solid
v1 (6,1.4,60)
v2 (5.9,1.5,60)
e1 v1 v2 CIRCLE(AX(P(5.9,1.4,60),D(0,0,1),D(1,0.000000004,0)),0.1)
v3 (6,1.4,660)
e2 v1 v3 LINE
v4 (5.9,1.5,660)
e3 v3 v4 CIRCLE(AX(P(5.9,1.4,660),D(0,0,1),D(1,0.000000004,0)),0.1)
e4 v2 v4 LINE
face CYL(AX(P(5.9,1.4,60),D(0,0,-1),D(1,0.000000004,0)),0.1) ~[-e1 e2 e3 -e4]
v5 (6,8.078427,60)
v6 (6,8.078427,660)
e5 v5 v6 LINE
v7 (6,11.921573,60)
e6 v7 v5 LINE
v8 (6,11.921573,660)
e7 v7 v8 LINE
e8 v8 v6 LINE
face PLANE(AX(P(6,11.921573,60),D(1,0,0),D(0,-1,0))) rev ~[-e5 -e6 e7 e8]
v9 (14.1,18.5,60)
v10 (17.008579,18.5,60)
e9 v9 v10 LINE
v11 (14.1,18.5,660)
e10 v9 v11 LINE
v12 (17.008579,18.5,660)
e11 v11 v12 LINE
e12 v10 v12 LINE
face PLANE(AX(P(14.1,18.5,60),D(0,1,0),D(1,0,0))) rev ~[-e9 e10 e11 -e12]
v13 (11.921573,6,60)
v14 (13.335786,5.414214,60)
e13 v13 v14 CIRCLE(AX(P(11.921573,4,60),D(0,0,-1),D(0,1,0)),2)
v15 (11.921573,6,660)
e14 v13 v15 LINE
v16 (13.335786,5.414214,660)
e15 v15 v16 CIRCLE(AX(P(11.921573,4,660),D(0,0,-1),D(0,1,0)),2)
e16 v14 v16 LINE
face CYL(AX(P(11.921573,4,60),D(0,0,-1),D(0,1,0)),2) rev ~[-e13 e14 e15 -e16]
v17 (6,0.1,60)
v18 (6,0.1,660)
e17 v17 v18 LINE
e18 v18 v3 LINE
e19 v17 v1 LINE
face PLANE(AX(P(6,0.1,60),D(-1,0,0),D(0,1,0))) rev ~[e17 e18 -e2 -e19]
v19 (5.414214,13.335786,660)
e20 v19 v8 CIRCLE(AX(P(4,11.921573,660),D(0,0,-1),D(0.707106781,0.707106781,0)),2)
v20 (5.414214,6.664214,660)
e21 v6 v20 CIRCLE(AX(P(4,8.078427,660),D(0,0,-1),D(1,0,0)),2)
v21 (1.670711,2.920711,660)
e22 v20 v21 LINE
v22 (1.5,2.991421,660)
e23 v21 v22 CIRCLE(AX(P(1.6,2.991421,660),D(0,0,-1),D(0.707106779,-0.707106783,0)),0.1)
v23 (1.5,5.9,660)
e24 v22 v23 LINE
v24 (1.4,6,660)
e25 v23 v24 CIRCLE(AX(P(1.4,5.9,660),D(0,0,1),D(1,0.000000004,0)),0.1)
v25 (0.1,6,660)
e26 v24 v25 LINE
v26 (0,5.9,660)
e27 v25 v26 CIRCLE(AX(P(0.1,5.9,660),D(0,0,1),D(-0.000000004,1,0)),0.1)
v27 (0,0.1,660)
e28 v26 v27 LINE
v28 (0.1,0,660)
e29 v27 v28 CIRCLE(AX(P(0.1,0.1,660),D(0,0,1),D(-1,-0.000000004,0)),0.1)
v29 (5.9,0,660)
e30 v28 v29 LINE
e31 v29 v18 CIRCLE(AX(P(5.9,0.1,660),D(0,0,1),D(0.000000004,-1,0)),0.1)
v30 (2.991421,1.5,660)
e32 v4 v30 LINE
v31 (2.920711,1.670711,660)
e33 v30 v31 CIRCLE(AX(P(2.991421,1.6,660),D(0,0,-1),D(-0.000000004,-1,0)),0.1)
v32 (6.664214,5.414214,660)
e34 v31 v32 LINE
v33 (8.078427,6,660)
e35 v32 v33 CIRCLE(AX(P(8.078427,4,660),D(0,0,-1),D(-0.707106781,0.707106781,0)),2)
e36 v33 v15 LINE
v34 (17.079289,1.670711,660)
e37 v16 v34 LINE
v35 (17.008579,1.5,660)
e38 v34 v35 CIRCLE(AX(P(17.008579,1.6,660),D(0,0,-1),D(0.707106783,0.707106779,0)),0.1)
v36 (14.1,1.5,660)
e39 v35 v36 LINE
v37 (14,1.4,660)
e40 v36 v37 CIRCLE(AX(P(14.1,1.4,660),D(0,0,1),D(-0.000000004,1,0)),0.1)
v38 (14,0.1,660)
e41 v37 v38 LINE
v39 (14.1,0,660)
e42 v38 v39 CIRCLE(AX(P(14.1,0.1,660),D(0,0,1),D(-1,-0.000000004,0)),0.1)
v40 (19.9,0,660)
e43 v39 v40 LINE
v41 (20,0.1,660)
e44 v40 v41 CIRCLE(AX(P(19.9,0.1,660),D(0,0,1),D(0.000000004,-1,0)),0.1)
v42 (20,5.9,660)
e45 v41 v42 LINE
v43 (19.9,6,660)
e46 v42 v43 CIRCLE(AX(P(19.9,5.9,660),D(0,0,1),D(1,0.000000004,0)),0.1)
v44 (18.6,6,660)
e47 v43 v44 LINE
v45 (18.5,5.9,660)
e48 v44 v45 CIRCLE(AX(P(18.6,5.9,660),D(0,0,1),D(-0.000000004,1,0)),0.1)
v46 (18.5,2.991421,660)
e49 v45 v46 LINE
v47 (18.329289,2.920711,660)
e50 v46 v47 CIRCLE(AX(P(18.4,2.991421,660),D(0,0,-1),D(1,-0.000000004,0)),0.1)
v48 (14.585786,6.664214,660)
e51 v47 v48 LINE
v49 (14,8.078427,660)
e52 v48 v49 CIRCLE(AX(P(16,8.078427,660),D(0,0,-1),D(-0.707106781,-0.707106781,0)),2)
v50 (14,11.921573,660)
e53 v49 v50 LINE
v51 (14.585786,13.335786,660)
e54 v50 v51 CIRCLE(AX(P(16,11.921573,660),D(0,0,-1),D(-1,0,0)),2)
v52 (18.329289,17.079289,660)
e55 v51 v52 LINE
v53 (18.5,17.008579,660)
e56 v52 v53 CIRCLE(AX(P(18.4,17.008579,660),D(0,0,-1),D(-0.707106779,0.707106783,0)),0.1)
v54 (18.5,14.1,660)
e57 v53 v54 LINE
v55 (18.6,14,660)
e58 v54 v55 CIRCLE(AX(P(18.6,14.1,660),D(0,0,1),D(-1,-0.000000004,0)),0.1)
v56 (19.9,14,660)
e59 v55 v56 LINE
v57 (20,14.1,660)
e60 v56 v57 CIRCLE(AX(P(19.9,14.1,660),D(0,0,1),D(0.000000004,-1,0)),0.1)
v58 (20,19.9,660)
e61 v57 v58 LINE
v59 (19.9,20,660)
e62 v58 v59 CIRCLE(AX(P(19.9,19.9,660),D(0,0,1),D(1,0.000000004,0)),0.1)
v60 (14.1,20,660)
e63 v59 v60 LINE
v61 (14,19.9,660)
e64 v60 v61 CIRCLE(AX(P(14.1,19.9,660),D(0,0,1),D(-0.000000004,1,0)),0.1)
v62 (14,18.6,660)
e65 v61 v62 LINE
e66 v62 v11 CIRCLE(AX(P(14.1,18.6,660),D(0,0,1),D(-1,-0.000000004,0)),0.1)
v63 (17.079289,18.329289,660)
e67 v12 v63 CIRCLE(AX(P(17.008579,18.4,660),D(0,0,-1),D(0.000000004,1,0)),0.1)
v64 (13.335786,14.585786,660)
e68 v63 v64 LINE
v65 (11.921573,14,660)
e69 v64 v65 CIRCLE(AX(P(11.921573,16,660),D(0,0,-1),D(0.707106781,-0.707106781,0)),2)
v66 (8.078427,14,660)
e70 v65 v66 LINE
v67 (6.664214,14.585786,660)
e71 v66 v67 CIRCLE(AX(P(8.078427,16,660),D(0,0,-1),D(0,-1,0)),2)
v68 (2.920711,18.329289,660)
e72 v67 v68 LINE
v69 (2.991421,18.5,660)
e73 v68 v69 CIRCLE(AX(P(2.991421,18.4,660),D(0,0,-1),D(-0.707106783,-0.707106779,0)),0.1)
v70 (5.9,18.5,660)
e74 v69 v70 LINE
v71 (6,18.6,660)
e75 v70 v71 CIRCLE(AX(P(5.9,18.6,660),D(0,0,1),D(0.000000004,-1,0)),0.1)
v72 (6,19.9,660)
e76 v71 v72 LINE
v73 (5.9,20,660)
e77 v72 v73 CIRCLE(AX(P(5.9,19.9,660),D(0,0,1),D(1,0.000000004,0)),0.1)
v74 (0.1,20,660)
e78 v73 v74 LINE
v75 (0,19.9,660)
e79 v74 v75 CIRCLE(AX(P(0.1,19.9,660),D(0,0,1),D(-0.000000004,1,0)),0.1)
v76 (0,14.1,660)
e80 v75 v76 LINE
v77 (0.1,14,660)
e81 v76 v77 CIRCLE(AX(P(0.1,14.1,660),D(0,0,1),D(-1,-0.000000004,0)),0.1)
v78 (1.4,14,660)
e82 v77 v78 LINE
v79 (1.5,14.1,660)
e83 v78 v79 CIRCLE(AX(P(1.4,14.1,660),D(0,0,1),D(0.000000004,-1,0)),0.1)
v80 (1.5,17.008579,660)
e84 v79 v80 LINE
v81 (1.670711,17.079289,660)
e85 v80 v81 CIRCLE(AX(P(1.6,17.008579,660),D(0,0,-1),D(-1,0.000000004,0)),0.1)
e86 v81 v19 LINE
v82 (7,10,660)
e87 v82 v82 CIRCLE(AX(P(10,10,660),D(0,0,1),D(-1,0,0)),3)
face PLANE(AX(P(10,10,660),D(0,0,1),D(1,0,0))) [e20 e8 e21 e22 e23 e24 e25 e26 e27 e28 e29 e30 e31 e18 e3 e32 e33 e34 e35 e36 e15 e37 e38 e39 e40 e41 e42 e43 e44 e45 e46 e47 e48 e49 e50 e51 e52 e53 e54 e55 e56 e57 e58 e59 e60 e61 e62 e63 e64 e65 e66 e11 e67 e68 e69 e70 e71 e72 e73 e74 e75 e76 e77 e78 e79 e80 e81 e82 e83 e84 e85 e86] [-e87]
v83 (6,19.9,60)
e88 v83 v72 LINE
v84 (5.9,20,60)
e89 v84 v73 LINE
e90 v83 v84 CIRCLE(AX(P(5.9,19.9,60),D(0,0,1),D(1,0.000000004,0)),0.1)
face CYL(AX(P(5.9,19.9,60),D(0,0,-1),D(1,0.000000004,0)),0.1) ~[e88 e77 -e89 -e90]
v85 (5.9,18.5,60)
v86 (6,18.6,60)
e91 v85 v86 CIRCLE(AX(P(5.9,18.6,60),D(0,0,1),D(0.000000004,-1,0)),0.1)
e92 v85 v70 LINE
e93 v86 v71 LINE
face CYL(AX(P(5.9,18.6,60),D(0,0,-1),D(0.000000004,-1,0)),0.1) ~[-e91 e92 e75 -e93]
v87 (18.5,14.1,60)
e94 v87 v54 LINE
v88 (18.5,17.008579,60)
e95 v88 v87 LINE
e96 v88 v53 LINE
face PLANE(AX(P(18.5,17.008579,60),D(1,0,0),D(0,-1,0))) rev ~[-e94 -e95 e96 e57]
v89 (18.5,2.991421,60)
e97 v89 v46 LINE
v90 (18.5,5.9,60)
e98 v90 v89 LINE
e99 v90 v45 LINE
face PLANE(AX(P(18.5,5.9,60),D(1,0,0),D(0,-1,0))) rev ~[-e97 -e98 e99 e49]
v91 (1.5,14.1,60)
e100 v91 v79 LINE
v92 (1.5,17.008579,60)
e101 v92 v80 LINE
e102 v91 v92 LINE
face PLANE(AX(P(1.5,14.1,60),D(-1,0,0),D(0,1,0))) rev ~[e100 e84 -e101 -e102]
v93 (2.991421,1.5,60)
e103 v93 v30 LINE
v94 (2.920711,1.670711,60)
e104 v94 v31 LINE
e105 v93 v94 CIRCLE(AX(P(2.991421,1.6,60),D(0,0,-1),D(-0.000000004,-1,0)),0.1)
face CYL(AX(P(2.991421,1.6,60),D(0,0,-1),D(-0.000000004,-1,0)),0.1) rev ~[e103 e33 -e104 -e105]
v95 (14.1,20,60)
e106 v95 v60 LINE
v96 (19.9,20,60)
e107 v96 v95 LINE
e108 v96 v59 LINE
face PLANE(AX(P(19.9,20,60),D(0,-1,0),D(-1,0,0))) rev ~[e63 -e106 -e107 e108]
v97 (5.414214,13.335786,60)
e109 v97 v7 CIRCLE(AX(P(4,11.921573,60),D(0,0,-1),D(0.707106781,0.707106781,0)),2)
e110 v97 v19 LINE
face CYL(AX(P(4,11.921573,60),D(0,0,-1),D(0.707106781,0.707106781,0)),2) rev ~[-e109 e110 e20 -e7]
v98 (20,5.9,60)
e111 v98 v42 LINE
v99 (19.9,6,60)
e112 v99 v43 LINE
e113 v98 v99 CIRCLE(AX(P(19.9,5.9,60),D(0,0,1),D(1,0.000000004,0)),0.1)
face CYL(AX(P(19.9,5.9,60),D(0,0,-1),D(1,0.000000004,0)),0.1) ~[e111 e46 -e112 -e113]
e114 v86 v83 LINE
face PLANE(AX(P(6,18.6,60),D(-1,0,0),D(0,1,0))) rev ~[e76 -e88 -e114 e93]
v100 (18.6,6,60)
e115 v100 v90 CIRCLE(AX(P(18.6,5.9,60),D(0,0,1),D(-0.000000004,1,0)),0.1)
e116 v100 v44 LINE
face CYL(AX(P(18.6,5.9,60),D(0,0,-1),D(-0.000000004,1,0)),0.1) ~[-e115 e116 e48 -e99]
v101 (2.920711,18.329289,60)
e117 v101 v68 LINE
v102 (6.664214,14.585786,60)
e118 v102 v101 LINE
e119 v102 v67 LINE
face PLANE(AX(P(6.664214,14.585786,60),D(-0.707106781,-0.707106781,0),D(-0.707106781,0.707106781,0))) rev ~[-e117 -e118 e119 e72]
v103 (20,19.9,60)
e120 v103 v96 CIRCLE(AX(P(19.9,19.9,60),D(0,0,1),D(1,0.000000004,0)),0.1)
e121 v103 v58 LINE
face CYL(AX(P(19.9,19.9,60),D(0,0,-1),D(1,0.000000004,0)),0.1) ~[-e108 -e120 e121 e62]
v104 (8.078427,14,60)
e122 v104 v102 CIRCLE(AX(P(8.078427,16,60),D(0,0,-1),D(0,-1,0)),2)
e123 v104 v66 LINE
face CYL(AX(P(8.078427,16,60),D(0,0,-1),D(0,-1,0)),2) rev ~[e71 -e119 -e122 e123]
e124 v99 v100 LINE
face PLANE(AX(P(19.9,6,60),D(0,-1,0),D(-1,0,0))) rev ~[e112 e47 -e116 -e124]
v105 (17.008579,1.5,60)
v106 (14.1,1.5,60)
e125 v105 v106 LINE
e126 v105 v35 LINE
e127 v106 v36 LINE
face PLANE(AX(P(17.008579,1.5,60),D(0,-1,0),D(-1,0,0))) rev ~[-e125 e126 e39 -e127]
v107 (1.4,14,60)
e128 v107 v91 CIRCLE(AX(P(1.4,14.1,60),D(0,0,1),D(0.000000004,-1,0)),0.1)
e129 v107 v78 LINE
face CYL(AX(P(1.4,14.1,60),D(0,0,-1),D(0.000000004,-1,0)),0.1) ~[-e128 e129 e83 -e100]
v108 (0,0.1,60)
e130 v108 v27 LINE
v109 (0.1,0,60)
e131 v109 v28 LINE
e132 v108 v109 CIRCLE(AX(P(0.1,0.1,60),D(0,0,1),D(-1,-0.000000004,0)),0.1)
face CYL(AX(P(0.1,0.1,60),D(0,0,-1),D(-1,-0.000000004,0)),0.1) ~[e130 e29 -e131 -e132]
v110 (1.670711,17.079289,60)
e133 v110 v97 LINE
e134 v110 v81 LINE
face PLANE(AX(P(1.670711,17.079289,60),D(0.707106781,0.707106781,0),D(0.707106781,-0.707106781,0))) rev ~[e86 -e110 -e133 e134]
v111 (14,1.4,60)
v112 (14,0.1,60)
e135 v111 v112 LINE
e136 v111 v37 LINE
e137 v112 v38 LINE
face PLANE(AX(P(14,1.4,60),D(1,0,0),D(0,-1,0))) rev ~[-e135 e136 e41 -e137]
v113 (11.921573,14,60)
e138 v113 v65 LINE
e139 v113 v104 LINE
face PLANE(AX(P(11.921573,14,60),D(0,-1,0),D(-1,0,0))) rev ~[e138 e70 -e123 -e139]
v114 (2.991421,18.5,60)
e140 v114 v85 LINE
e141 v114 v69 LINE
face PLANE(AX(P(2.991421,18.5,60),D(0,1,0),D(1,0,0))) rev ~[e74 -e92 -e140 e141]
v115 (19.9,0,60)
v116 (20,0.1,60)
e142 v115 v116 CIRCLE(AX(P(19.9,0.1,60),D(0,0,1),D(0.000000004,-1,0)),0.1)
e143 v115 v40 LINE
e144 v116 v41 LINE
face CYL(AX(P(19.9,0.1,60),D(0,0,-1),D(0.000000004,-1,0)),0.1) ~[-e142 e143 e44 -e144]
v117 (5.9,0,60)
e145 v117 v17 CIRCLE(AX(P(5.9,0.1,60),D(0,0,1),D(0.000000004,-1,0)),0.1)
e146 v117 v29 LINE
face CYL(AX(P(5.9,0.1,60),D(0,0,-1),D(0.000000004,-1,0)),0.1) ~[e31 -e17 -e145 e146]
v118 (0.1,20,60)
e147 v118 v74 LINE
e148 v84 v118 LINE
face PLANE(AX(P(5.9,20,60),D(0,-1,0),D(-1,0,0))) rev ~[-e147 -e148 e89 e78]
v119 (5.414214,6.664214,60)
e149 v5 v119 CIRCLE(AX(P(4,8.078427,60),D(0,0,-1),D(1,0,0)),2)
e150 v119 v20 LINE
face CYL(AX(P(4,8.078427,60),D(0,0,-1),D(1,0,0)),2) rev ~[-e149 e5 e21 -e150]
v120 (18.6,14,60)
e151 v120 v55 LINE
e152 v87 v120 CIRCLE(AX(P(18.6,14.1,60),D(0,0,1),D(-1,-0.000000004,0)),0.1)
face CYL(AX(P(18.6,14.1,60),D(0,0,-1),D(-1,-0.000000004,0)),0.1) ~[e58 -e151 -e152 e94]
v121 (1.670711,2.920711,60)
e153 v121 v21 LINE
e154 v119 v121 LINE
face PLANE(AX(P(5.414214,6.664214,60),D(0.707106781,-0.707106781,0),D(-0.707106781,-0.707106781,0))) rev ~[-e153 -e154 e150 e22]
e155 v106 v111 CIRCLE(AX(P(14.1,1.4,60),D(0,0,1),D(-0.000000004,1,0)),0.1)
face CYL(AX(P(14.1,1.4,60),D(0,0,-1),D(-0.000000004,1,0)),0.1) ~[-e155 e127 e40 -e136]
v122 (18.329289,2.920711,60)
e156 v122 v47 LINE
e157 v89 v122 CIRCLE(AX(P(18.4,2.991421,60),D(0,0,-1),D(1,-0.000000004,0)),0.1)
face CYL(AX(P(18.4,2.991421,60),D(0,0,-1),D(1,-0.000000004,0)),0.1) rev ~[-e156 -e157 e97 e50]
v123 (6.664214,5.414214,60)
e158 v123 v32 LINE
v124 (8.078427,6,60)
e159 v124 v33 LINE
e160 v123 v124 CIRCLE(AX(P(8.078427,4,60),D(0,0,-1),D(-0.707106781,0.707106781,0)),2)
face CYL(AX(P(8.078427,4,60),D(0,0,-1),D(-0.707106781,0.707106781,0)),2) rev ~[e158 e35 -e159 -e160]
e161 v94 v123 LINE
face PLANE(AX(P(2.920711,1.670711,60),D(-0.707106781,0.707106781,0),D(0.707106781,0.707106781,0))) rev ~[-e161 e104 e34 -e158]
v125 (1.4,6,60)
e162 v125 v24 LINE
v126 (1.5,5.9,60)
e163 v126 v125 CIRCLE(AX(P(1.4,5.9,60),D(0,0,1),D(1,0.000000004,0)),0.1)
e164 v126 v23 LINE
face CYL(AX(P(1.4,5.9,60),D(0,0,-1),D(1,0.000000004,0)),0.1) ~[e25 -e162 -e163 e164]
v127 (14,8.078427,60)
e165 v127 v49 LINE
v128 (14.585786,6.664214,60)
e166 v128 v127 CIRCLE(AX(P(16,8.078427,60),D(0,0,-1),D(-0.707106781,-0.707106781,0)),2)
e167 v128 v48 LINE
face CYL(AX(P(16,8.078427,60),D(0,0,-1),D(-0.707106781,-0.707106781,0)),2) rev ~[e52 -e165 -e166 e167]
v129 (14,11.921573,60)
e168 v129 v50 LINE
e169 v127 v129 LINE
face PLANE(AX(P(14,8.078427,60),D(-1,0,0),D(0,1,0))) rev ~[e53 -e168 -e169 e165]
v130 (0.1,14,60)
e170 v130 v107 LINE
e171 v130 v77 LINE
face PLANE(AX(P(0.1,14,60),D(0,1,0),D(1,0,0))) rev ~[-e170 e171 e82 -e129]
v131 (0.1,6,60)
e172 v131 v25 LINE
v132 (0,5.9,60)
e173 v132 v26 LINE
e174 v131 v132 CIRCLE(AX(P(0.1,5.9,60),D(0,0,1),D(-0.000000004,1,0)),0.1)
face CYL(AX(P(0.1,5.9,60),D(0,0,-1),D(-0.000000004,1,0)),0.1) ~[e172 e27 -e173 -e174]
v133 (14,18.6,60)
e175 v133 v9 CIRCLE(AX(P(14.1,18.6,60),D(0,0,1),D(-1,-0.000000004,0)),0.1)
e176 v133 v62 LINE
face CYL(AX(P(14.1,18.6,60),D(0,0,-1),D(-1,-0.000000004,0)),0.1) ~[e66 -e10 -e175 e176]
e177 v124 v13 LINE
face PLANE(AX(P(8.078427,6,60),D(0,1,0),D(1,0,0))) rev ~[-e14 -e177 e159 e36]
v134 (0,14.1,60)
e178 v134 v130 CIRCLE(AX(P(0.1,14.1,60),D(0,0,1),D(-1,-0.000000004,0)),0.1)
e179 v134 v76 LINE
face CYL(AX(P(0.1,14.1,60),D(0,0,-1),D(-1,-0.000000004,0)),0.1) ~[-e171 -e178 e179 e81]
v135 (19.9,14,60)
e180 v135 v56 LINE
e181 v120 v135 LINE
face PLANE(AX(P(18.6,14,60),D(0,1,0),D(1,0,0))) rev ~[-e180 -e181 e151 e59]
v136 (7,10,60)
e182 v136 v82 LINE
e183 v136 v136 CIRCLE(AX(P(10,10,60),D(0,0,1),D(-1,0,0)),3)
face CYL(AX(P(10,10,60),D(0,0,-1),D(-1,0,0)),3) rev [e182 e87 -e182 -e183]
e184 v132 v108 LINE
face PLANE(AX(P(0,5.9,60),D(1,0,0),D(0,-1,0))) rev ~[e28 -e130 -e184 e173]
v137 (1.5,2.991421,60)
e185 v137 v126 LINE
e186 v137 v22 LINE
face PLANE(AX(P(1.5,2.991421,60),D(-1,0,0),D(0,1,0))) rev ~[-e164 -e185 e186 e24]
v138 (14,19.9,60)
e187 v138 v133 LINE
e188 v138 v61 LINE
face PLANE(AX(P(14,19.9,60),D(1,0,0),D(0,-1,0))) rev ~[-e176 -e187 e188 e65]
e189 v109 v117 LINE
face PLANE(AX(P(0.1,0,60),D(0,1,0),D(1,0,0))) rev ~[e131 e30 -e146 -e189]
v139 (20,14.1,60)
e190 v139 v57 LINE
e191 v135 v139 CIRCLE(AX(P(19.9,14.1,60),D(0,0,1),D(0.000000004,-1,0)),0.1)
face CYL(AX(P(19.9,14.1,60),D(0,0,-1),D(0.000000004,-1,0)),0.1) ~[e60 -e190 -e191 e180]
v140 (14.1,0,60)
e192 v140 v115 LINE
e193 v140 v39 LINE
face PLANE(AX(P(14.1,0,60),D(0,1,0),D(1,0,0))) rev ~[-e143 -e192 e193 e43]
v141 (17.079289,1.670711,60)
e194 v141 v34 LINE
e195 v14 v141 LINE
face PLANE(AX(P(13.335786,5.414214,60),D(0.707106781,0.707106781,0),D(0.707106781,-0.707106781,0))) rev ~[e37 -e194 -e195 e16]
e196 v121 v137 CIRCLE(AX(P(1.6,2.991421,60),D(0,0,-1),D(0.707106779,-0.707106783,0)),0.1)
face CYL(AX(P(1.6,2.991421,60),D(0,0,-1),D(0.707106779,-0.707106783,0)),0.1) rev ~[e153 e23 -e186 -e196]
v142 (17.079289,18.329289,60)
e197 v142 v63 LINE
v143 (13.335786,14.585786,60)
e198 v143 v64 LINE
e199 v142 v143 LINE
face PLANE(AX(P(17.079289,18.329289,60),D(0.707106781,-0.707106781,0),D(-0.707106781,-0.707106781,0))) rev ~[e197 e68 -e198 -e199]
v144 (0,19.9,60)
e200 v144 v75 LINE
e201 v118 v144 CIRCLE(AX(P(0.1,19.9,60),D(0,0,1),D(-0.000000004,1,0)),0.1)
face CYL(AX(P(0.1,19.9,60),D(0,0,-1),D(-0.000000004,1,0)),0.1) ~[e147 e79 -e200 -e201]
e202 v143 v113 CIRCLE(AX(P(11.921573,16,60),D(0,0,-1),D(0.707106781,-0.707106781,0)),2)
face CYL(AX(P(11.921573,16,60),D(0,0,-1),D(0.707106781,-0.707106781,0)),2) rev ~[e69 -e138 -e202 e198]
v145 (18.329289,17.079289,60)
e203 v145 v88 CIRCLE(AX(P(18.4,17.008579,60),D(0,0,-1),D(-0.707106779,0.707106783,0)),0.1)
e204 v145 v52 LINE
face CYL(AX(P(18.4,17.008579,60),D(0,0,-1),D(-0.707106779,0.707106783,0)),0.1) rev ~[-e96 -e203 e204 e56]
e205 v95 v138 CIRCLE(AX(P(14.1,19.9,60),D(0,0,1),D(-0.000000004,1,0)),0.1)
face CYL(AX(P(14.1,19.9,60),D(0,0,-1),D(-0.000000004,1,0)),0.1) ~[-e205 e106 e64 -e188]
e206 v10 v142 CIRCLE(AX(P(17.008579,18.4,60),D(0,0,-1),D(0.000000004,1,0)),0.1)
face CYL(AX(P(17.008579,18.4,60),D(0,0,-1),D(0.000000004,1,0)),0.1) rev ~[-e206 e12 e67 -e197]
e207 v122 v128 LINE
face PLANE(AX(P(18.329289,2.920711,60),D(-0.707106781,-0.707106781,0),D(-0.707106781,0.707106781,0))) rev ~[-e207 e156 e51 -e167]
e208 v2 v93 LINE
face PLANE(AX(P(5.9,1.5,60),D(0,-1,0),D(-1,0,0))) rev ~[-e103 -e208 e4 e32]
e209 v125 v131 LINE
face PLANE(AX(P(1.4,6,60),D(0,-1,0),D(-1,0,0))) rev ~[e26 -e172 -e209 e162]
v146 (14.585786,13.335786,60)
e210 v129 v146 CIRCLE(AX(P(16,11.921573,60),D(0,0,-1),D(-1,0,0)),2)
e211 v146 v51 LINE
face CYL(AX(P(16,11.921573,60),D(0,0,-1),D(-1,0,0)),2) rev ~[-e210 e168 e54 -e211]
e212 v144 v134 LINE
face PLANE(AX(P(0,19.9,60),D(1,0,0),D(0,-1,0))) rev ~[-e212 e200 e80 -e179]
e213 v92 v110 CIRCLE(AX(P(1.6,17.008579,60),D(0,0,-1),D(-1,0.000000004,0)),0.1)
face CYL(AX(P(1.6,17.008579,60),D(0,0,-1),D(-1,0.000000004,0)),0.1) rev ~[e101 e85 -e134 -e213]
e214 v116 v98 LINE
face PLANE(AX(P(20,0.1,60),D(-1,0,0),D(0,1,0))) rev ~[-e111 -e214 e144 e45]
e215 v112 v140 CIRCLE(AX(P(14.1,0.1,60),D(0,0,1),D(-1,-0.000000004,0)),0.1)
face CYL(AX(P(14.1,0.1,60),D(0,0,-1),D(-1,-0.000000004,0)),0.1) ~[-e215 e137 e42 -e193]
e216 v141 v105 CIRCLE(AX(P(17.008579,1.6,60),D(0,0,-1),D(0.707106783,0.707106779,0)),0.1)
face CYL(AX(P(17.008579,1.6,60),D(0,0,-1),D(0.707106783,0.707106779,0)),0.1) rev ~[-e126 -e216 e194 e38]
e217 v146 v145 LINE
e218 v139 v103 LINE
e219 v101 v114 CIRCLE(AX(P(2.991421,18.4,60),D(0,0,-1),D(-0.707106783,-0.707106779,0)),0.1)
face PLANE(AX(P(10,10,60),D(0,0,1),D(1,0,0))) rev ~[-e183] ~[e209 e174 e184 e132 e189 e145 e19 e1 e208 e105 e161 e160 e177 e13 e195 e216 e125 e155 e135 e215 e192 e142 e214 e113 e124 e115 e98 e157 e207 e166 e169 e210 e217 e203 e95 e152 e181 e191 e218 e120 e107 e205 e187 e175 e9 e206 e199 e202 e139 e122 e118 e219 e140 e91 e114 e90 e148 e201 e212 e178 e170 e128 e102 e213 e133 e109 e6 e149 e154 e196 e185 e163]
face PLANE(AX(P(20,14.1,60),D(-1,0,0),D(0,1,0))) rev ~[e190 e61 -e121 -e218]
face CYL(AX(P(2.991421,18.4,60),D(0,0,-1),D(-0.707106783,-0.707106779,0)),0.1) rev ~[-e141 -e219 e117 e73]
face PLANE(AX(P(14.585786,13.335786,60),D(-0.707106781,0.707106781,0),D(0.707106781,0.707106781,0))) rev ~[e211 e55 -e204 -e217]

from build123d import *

# Parameters (mm, degrees)
SKETCH1_R           = 3
BOSS_EXTRUDE2_DEPTH = 600


with BuildPart() as part:
    # Sketch1 → Boss-Extrude2 (new body)
    with BuildSketch(Plane.XY.offset(60)):
        with BuildLine():
            Line((18.5, 17.008578644), (18.5, 14.1))
            ThreePointArc((18.5, 14.1), (18.529289322, 14.029289322), (18.6, 14))
            Line((18.6, 14), (19.9, 14))
            ThreePointArc((19.9, 14), (19.970710678, 14.029289322), (20, 14.1))
            Line((20, 14.1), (20, 19.9))
            ThreePointArc((20, 19.9), (19.970710678, 19.970710678), (19.9, 20))
            Line((19.9, 20), (14.1, 20))
            ThreePointArc((14.1, 20), (14.029289322, 19.970710678), (14, 19.9))
            Line((14, 19.9), (14, 18.6))
            ThreePointArc((14, 18.6), (14.029289322, 18.529289322), (14.1, 18.5))
            Line((14.1, 18.5), (17.008578644, 18.5))
            ThreePointArc((17.008578644, 18.5), (17.100966597, 18.438268343), (17.079289322, 18.329289322))
            Line((17.079289322, 18.329289322), (13.335786438, 14.585786438))
            ThreePointArc((13.335786438, 14.585786438), (12.68693974, 14.152240935), (11.921572875, 14))
            Line((11.921572875, 14), (8.078427125, 14))
            ThreePointArc((8.078427125, 14), (7.31306026, 14.152240935), (6.664213562, 14.585786438))
            Line((6.664213562, 14.585786438), (2.920710678, 18.329289322))
            ThreePointArc((2.920710678, 18.329289322), (2.899033403, 18.438268343), (2.991421356, 18.5))
            Line((2.991421356, 18.5), (5.9, 18.5))
            ThreePointArc((5.9, 18.5), (5.970710678, 18.529289322), (6, 18.6))
            Line((6, 18.6), (6, 19.9))
            ThreePointArc((6, 19.9), (5.970710678, 19.970710678), (5.9, 20))
            Line((5.9, 20), (0.1, 20))
            ThreePointArc((0.1, 20), (0.029289322, 19.970710678), (0, 19.9))
            Line((0, 19.9), (0, 14.1))
            ThreePointArc((0, 14.1), (0.029289322, 14.029289322), (0.1, 14))
            Line((0.1, 14), (1.4, 14))
            ThreePointArc((1.4, 14), (1.470710678, 14.029289322), (1.5, 14.1))
            Line((1.5, 14.1), (1.5, 17.008578644))
            ThreePointArc((1.5, 17.008578644), (1.561731657, 17.100966597), (1.670710678, 17.079289322))
            Line((1.670710678, 17.079289322), (5.414213562, 13.335786438))
            ThreePointArc((5.414213562, 13.335786438), (5.847759065, 12.68693974), (6, 11.921572875))
            Line((6, 11.921572875), (6, 8.078427125))
            ThreePointArc((6, 8.078427125), (5.847759065, 7.31306026), (5.414213562, 6.664213562))
            Line((5.414213562, 6.664213562), (1.670710678, 2.920710678))
            ThreePointArc((1.670710678, 2.920710678), (1.561731657, 2.899033403), (1.5, 2.991421356))
            Line((1.5, 2.991421356), (1.5, 5.9))
            ThreePointArc((1.5, 5.9), (1.470710678, 5.970710678), (1.4, 6))
            Line((1.4, 6), (0.1, 6))
            ThreePointArc((0.1, 6), (0.029289322, 5.970710678), (0, 5.9))
            Line((0, 5.9), (0, 0.1))
            ThreePointArc((0, 0.1), (0.029289322, 0.029289322), (0.1, 0))
            Line((0.1, 0), (5.9, 0))
            ThreePointArc((5.9, 0), (5.970710678, 0.029289322), (6, 0.1))
            Line((6, 0.1), (6, 1.4))
            ThreePointArc((6, 1.4), (5.970710678, 1.470710678), (5.9, 1.5))
            Line((5.9, 1.5), (2.991421356, 1.5))
            ThreePointArc((2.991421356, 1.5), (2.899033403, 1.561731657), (2.920710678, 1.670710678))
            Line((2.920710678, 1.670710678), (6.664213562, 5.414213562))
            ThreePointArc((6.664213562, 5.414213562), (7.31306026, 5.847759065), (8.078427125, 6))
            Line((8.078427125, 6), (11.921572875, 6))
            ThreePointArc((11.921572875, 6), (12.68693974, 5.847759065), (13.335786438, 5.414213562))
            Line((13.335786438, 5.414213562), (17.079289322, 1.670710678))
            ThreePointArc((17.079289322, 1.670710678), (17.100966597, 1.561731657), (17.008578644, 1.5))
            Line((17.008578644, 1.5), (14.1, 1.5))
            ThreePointArc((14.1, 1.5), (14.029289322, 1.470710678), (14, 1.4))
            Line((14, 1.4), (14, 0.1))
            ThreePointArc((14, 0.1), (14.029289322, 0.029289322), (14.1, 0))
            Line((14.1, 0), (19.9, 0))
            ThreePointArc((19.9, 0), (19.970710678, 0.029289322), (20, 0.1))
            Line((20, 0.1), (20, 5.9))
            ThreePointArc((20, 5.9), (19.970710678, 5.970710678), (19.9, 6))
            Line((19.9, 6), (18.6, 6))
            ThreePointArc((18.6, 6), (18.529289322, 5.970710678), (18.5, 5.9))
            Line((18.5, 5.9), (18.5, 2.991421356))
            ThreePointArc((18.5, 2.991421356), (18.438268343, 2.899033403), (18.329289322, 2.920710678))
            Line((18.329289322, 2.920710678), (14.585786438, 6.664213562))
            ThreePointArc((14.585786438, 6.664213562), (14.152240935, 7.31306026), (14, 8.078427125))
            Line((14, 8.078427125), (14, 11.921572875))
            ThreePointArc((14, 11.921572875), (14.152240935, 12.68693974), (14.585786438, 13.335786438))
            Line((14.585786438, 13.335786438), (18.329289322, 17.079289322))
            ThreePointArc((18.329289322, 17.079289322), (18.438268343, 17.100966597), (18.5, 17.008578644))
        make_face()
        with Locations(Location((10, 10, 0), (0, 0, 180))):
            Circle(SKETCH1_R, mode=Mode.SUBTRACT)
    extrude(amount=BOSS_EXTRUDE2_DEPTH)


solid = part.part
